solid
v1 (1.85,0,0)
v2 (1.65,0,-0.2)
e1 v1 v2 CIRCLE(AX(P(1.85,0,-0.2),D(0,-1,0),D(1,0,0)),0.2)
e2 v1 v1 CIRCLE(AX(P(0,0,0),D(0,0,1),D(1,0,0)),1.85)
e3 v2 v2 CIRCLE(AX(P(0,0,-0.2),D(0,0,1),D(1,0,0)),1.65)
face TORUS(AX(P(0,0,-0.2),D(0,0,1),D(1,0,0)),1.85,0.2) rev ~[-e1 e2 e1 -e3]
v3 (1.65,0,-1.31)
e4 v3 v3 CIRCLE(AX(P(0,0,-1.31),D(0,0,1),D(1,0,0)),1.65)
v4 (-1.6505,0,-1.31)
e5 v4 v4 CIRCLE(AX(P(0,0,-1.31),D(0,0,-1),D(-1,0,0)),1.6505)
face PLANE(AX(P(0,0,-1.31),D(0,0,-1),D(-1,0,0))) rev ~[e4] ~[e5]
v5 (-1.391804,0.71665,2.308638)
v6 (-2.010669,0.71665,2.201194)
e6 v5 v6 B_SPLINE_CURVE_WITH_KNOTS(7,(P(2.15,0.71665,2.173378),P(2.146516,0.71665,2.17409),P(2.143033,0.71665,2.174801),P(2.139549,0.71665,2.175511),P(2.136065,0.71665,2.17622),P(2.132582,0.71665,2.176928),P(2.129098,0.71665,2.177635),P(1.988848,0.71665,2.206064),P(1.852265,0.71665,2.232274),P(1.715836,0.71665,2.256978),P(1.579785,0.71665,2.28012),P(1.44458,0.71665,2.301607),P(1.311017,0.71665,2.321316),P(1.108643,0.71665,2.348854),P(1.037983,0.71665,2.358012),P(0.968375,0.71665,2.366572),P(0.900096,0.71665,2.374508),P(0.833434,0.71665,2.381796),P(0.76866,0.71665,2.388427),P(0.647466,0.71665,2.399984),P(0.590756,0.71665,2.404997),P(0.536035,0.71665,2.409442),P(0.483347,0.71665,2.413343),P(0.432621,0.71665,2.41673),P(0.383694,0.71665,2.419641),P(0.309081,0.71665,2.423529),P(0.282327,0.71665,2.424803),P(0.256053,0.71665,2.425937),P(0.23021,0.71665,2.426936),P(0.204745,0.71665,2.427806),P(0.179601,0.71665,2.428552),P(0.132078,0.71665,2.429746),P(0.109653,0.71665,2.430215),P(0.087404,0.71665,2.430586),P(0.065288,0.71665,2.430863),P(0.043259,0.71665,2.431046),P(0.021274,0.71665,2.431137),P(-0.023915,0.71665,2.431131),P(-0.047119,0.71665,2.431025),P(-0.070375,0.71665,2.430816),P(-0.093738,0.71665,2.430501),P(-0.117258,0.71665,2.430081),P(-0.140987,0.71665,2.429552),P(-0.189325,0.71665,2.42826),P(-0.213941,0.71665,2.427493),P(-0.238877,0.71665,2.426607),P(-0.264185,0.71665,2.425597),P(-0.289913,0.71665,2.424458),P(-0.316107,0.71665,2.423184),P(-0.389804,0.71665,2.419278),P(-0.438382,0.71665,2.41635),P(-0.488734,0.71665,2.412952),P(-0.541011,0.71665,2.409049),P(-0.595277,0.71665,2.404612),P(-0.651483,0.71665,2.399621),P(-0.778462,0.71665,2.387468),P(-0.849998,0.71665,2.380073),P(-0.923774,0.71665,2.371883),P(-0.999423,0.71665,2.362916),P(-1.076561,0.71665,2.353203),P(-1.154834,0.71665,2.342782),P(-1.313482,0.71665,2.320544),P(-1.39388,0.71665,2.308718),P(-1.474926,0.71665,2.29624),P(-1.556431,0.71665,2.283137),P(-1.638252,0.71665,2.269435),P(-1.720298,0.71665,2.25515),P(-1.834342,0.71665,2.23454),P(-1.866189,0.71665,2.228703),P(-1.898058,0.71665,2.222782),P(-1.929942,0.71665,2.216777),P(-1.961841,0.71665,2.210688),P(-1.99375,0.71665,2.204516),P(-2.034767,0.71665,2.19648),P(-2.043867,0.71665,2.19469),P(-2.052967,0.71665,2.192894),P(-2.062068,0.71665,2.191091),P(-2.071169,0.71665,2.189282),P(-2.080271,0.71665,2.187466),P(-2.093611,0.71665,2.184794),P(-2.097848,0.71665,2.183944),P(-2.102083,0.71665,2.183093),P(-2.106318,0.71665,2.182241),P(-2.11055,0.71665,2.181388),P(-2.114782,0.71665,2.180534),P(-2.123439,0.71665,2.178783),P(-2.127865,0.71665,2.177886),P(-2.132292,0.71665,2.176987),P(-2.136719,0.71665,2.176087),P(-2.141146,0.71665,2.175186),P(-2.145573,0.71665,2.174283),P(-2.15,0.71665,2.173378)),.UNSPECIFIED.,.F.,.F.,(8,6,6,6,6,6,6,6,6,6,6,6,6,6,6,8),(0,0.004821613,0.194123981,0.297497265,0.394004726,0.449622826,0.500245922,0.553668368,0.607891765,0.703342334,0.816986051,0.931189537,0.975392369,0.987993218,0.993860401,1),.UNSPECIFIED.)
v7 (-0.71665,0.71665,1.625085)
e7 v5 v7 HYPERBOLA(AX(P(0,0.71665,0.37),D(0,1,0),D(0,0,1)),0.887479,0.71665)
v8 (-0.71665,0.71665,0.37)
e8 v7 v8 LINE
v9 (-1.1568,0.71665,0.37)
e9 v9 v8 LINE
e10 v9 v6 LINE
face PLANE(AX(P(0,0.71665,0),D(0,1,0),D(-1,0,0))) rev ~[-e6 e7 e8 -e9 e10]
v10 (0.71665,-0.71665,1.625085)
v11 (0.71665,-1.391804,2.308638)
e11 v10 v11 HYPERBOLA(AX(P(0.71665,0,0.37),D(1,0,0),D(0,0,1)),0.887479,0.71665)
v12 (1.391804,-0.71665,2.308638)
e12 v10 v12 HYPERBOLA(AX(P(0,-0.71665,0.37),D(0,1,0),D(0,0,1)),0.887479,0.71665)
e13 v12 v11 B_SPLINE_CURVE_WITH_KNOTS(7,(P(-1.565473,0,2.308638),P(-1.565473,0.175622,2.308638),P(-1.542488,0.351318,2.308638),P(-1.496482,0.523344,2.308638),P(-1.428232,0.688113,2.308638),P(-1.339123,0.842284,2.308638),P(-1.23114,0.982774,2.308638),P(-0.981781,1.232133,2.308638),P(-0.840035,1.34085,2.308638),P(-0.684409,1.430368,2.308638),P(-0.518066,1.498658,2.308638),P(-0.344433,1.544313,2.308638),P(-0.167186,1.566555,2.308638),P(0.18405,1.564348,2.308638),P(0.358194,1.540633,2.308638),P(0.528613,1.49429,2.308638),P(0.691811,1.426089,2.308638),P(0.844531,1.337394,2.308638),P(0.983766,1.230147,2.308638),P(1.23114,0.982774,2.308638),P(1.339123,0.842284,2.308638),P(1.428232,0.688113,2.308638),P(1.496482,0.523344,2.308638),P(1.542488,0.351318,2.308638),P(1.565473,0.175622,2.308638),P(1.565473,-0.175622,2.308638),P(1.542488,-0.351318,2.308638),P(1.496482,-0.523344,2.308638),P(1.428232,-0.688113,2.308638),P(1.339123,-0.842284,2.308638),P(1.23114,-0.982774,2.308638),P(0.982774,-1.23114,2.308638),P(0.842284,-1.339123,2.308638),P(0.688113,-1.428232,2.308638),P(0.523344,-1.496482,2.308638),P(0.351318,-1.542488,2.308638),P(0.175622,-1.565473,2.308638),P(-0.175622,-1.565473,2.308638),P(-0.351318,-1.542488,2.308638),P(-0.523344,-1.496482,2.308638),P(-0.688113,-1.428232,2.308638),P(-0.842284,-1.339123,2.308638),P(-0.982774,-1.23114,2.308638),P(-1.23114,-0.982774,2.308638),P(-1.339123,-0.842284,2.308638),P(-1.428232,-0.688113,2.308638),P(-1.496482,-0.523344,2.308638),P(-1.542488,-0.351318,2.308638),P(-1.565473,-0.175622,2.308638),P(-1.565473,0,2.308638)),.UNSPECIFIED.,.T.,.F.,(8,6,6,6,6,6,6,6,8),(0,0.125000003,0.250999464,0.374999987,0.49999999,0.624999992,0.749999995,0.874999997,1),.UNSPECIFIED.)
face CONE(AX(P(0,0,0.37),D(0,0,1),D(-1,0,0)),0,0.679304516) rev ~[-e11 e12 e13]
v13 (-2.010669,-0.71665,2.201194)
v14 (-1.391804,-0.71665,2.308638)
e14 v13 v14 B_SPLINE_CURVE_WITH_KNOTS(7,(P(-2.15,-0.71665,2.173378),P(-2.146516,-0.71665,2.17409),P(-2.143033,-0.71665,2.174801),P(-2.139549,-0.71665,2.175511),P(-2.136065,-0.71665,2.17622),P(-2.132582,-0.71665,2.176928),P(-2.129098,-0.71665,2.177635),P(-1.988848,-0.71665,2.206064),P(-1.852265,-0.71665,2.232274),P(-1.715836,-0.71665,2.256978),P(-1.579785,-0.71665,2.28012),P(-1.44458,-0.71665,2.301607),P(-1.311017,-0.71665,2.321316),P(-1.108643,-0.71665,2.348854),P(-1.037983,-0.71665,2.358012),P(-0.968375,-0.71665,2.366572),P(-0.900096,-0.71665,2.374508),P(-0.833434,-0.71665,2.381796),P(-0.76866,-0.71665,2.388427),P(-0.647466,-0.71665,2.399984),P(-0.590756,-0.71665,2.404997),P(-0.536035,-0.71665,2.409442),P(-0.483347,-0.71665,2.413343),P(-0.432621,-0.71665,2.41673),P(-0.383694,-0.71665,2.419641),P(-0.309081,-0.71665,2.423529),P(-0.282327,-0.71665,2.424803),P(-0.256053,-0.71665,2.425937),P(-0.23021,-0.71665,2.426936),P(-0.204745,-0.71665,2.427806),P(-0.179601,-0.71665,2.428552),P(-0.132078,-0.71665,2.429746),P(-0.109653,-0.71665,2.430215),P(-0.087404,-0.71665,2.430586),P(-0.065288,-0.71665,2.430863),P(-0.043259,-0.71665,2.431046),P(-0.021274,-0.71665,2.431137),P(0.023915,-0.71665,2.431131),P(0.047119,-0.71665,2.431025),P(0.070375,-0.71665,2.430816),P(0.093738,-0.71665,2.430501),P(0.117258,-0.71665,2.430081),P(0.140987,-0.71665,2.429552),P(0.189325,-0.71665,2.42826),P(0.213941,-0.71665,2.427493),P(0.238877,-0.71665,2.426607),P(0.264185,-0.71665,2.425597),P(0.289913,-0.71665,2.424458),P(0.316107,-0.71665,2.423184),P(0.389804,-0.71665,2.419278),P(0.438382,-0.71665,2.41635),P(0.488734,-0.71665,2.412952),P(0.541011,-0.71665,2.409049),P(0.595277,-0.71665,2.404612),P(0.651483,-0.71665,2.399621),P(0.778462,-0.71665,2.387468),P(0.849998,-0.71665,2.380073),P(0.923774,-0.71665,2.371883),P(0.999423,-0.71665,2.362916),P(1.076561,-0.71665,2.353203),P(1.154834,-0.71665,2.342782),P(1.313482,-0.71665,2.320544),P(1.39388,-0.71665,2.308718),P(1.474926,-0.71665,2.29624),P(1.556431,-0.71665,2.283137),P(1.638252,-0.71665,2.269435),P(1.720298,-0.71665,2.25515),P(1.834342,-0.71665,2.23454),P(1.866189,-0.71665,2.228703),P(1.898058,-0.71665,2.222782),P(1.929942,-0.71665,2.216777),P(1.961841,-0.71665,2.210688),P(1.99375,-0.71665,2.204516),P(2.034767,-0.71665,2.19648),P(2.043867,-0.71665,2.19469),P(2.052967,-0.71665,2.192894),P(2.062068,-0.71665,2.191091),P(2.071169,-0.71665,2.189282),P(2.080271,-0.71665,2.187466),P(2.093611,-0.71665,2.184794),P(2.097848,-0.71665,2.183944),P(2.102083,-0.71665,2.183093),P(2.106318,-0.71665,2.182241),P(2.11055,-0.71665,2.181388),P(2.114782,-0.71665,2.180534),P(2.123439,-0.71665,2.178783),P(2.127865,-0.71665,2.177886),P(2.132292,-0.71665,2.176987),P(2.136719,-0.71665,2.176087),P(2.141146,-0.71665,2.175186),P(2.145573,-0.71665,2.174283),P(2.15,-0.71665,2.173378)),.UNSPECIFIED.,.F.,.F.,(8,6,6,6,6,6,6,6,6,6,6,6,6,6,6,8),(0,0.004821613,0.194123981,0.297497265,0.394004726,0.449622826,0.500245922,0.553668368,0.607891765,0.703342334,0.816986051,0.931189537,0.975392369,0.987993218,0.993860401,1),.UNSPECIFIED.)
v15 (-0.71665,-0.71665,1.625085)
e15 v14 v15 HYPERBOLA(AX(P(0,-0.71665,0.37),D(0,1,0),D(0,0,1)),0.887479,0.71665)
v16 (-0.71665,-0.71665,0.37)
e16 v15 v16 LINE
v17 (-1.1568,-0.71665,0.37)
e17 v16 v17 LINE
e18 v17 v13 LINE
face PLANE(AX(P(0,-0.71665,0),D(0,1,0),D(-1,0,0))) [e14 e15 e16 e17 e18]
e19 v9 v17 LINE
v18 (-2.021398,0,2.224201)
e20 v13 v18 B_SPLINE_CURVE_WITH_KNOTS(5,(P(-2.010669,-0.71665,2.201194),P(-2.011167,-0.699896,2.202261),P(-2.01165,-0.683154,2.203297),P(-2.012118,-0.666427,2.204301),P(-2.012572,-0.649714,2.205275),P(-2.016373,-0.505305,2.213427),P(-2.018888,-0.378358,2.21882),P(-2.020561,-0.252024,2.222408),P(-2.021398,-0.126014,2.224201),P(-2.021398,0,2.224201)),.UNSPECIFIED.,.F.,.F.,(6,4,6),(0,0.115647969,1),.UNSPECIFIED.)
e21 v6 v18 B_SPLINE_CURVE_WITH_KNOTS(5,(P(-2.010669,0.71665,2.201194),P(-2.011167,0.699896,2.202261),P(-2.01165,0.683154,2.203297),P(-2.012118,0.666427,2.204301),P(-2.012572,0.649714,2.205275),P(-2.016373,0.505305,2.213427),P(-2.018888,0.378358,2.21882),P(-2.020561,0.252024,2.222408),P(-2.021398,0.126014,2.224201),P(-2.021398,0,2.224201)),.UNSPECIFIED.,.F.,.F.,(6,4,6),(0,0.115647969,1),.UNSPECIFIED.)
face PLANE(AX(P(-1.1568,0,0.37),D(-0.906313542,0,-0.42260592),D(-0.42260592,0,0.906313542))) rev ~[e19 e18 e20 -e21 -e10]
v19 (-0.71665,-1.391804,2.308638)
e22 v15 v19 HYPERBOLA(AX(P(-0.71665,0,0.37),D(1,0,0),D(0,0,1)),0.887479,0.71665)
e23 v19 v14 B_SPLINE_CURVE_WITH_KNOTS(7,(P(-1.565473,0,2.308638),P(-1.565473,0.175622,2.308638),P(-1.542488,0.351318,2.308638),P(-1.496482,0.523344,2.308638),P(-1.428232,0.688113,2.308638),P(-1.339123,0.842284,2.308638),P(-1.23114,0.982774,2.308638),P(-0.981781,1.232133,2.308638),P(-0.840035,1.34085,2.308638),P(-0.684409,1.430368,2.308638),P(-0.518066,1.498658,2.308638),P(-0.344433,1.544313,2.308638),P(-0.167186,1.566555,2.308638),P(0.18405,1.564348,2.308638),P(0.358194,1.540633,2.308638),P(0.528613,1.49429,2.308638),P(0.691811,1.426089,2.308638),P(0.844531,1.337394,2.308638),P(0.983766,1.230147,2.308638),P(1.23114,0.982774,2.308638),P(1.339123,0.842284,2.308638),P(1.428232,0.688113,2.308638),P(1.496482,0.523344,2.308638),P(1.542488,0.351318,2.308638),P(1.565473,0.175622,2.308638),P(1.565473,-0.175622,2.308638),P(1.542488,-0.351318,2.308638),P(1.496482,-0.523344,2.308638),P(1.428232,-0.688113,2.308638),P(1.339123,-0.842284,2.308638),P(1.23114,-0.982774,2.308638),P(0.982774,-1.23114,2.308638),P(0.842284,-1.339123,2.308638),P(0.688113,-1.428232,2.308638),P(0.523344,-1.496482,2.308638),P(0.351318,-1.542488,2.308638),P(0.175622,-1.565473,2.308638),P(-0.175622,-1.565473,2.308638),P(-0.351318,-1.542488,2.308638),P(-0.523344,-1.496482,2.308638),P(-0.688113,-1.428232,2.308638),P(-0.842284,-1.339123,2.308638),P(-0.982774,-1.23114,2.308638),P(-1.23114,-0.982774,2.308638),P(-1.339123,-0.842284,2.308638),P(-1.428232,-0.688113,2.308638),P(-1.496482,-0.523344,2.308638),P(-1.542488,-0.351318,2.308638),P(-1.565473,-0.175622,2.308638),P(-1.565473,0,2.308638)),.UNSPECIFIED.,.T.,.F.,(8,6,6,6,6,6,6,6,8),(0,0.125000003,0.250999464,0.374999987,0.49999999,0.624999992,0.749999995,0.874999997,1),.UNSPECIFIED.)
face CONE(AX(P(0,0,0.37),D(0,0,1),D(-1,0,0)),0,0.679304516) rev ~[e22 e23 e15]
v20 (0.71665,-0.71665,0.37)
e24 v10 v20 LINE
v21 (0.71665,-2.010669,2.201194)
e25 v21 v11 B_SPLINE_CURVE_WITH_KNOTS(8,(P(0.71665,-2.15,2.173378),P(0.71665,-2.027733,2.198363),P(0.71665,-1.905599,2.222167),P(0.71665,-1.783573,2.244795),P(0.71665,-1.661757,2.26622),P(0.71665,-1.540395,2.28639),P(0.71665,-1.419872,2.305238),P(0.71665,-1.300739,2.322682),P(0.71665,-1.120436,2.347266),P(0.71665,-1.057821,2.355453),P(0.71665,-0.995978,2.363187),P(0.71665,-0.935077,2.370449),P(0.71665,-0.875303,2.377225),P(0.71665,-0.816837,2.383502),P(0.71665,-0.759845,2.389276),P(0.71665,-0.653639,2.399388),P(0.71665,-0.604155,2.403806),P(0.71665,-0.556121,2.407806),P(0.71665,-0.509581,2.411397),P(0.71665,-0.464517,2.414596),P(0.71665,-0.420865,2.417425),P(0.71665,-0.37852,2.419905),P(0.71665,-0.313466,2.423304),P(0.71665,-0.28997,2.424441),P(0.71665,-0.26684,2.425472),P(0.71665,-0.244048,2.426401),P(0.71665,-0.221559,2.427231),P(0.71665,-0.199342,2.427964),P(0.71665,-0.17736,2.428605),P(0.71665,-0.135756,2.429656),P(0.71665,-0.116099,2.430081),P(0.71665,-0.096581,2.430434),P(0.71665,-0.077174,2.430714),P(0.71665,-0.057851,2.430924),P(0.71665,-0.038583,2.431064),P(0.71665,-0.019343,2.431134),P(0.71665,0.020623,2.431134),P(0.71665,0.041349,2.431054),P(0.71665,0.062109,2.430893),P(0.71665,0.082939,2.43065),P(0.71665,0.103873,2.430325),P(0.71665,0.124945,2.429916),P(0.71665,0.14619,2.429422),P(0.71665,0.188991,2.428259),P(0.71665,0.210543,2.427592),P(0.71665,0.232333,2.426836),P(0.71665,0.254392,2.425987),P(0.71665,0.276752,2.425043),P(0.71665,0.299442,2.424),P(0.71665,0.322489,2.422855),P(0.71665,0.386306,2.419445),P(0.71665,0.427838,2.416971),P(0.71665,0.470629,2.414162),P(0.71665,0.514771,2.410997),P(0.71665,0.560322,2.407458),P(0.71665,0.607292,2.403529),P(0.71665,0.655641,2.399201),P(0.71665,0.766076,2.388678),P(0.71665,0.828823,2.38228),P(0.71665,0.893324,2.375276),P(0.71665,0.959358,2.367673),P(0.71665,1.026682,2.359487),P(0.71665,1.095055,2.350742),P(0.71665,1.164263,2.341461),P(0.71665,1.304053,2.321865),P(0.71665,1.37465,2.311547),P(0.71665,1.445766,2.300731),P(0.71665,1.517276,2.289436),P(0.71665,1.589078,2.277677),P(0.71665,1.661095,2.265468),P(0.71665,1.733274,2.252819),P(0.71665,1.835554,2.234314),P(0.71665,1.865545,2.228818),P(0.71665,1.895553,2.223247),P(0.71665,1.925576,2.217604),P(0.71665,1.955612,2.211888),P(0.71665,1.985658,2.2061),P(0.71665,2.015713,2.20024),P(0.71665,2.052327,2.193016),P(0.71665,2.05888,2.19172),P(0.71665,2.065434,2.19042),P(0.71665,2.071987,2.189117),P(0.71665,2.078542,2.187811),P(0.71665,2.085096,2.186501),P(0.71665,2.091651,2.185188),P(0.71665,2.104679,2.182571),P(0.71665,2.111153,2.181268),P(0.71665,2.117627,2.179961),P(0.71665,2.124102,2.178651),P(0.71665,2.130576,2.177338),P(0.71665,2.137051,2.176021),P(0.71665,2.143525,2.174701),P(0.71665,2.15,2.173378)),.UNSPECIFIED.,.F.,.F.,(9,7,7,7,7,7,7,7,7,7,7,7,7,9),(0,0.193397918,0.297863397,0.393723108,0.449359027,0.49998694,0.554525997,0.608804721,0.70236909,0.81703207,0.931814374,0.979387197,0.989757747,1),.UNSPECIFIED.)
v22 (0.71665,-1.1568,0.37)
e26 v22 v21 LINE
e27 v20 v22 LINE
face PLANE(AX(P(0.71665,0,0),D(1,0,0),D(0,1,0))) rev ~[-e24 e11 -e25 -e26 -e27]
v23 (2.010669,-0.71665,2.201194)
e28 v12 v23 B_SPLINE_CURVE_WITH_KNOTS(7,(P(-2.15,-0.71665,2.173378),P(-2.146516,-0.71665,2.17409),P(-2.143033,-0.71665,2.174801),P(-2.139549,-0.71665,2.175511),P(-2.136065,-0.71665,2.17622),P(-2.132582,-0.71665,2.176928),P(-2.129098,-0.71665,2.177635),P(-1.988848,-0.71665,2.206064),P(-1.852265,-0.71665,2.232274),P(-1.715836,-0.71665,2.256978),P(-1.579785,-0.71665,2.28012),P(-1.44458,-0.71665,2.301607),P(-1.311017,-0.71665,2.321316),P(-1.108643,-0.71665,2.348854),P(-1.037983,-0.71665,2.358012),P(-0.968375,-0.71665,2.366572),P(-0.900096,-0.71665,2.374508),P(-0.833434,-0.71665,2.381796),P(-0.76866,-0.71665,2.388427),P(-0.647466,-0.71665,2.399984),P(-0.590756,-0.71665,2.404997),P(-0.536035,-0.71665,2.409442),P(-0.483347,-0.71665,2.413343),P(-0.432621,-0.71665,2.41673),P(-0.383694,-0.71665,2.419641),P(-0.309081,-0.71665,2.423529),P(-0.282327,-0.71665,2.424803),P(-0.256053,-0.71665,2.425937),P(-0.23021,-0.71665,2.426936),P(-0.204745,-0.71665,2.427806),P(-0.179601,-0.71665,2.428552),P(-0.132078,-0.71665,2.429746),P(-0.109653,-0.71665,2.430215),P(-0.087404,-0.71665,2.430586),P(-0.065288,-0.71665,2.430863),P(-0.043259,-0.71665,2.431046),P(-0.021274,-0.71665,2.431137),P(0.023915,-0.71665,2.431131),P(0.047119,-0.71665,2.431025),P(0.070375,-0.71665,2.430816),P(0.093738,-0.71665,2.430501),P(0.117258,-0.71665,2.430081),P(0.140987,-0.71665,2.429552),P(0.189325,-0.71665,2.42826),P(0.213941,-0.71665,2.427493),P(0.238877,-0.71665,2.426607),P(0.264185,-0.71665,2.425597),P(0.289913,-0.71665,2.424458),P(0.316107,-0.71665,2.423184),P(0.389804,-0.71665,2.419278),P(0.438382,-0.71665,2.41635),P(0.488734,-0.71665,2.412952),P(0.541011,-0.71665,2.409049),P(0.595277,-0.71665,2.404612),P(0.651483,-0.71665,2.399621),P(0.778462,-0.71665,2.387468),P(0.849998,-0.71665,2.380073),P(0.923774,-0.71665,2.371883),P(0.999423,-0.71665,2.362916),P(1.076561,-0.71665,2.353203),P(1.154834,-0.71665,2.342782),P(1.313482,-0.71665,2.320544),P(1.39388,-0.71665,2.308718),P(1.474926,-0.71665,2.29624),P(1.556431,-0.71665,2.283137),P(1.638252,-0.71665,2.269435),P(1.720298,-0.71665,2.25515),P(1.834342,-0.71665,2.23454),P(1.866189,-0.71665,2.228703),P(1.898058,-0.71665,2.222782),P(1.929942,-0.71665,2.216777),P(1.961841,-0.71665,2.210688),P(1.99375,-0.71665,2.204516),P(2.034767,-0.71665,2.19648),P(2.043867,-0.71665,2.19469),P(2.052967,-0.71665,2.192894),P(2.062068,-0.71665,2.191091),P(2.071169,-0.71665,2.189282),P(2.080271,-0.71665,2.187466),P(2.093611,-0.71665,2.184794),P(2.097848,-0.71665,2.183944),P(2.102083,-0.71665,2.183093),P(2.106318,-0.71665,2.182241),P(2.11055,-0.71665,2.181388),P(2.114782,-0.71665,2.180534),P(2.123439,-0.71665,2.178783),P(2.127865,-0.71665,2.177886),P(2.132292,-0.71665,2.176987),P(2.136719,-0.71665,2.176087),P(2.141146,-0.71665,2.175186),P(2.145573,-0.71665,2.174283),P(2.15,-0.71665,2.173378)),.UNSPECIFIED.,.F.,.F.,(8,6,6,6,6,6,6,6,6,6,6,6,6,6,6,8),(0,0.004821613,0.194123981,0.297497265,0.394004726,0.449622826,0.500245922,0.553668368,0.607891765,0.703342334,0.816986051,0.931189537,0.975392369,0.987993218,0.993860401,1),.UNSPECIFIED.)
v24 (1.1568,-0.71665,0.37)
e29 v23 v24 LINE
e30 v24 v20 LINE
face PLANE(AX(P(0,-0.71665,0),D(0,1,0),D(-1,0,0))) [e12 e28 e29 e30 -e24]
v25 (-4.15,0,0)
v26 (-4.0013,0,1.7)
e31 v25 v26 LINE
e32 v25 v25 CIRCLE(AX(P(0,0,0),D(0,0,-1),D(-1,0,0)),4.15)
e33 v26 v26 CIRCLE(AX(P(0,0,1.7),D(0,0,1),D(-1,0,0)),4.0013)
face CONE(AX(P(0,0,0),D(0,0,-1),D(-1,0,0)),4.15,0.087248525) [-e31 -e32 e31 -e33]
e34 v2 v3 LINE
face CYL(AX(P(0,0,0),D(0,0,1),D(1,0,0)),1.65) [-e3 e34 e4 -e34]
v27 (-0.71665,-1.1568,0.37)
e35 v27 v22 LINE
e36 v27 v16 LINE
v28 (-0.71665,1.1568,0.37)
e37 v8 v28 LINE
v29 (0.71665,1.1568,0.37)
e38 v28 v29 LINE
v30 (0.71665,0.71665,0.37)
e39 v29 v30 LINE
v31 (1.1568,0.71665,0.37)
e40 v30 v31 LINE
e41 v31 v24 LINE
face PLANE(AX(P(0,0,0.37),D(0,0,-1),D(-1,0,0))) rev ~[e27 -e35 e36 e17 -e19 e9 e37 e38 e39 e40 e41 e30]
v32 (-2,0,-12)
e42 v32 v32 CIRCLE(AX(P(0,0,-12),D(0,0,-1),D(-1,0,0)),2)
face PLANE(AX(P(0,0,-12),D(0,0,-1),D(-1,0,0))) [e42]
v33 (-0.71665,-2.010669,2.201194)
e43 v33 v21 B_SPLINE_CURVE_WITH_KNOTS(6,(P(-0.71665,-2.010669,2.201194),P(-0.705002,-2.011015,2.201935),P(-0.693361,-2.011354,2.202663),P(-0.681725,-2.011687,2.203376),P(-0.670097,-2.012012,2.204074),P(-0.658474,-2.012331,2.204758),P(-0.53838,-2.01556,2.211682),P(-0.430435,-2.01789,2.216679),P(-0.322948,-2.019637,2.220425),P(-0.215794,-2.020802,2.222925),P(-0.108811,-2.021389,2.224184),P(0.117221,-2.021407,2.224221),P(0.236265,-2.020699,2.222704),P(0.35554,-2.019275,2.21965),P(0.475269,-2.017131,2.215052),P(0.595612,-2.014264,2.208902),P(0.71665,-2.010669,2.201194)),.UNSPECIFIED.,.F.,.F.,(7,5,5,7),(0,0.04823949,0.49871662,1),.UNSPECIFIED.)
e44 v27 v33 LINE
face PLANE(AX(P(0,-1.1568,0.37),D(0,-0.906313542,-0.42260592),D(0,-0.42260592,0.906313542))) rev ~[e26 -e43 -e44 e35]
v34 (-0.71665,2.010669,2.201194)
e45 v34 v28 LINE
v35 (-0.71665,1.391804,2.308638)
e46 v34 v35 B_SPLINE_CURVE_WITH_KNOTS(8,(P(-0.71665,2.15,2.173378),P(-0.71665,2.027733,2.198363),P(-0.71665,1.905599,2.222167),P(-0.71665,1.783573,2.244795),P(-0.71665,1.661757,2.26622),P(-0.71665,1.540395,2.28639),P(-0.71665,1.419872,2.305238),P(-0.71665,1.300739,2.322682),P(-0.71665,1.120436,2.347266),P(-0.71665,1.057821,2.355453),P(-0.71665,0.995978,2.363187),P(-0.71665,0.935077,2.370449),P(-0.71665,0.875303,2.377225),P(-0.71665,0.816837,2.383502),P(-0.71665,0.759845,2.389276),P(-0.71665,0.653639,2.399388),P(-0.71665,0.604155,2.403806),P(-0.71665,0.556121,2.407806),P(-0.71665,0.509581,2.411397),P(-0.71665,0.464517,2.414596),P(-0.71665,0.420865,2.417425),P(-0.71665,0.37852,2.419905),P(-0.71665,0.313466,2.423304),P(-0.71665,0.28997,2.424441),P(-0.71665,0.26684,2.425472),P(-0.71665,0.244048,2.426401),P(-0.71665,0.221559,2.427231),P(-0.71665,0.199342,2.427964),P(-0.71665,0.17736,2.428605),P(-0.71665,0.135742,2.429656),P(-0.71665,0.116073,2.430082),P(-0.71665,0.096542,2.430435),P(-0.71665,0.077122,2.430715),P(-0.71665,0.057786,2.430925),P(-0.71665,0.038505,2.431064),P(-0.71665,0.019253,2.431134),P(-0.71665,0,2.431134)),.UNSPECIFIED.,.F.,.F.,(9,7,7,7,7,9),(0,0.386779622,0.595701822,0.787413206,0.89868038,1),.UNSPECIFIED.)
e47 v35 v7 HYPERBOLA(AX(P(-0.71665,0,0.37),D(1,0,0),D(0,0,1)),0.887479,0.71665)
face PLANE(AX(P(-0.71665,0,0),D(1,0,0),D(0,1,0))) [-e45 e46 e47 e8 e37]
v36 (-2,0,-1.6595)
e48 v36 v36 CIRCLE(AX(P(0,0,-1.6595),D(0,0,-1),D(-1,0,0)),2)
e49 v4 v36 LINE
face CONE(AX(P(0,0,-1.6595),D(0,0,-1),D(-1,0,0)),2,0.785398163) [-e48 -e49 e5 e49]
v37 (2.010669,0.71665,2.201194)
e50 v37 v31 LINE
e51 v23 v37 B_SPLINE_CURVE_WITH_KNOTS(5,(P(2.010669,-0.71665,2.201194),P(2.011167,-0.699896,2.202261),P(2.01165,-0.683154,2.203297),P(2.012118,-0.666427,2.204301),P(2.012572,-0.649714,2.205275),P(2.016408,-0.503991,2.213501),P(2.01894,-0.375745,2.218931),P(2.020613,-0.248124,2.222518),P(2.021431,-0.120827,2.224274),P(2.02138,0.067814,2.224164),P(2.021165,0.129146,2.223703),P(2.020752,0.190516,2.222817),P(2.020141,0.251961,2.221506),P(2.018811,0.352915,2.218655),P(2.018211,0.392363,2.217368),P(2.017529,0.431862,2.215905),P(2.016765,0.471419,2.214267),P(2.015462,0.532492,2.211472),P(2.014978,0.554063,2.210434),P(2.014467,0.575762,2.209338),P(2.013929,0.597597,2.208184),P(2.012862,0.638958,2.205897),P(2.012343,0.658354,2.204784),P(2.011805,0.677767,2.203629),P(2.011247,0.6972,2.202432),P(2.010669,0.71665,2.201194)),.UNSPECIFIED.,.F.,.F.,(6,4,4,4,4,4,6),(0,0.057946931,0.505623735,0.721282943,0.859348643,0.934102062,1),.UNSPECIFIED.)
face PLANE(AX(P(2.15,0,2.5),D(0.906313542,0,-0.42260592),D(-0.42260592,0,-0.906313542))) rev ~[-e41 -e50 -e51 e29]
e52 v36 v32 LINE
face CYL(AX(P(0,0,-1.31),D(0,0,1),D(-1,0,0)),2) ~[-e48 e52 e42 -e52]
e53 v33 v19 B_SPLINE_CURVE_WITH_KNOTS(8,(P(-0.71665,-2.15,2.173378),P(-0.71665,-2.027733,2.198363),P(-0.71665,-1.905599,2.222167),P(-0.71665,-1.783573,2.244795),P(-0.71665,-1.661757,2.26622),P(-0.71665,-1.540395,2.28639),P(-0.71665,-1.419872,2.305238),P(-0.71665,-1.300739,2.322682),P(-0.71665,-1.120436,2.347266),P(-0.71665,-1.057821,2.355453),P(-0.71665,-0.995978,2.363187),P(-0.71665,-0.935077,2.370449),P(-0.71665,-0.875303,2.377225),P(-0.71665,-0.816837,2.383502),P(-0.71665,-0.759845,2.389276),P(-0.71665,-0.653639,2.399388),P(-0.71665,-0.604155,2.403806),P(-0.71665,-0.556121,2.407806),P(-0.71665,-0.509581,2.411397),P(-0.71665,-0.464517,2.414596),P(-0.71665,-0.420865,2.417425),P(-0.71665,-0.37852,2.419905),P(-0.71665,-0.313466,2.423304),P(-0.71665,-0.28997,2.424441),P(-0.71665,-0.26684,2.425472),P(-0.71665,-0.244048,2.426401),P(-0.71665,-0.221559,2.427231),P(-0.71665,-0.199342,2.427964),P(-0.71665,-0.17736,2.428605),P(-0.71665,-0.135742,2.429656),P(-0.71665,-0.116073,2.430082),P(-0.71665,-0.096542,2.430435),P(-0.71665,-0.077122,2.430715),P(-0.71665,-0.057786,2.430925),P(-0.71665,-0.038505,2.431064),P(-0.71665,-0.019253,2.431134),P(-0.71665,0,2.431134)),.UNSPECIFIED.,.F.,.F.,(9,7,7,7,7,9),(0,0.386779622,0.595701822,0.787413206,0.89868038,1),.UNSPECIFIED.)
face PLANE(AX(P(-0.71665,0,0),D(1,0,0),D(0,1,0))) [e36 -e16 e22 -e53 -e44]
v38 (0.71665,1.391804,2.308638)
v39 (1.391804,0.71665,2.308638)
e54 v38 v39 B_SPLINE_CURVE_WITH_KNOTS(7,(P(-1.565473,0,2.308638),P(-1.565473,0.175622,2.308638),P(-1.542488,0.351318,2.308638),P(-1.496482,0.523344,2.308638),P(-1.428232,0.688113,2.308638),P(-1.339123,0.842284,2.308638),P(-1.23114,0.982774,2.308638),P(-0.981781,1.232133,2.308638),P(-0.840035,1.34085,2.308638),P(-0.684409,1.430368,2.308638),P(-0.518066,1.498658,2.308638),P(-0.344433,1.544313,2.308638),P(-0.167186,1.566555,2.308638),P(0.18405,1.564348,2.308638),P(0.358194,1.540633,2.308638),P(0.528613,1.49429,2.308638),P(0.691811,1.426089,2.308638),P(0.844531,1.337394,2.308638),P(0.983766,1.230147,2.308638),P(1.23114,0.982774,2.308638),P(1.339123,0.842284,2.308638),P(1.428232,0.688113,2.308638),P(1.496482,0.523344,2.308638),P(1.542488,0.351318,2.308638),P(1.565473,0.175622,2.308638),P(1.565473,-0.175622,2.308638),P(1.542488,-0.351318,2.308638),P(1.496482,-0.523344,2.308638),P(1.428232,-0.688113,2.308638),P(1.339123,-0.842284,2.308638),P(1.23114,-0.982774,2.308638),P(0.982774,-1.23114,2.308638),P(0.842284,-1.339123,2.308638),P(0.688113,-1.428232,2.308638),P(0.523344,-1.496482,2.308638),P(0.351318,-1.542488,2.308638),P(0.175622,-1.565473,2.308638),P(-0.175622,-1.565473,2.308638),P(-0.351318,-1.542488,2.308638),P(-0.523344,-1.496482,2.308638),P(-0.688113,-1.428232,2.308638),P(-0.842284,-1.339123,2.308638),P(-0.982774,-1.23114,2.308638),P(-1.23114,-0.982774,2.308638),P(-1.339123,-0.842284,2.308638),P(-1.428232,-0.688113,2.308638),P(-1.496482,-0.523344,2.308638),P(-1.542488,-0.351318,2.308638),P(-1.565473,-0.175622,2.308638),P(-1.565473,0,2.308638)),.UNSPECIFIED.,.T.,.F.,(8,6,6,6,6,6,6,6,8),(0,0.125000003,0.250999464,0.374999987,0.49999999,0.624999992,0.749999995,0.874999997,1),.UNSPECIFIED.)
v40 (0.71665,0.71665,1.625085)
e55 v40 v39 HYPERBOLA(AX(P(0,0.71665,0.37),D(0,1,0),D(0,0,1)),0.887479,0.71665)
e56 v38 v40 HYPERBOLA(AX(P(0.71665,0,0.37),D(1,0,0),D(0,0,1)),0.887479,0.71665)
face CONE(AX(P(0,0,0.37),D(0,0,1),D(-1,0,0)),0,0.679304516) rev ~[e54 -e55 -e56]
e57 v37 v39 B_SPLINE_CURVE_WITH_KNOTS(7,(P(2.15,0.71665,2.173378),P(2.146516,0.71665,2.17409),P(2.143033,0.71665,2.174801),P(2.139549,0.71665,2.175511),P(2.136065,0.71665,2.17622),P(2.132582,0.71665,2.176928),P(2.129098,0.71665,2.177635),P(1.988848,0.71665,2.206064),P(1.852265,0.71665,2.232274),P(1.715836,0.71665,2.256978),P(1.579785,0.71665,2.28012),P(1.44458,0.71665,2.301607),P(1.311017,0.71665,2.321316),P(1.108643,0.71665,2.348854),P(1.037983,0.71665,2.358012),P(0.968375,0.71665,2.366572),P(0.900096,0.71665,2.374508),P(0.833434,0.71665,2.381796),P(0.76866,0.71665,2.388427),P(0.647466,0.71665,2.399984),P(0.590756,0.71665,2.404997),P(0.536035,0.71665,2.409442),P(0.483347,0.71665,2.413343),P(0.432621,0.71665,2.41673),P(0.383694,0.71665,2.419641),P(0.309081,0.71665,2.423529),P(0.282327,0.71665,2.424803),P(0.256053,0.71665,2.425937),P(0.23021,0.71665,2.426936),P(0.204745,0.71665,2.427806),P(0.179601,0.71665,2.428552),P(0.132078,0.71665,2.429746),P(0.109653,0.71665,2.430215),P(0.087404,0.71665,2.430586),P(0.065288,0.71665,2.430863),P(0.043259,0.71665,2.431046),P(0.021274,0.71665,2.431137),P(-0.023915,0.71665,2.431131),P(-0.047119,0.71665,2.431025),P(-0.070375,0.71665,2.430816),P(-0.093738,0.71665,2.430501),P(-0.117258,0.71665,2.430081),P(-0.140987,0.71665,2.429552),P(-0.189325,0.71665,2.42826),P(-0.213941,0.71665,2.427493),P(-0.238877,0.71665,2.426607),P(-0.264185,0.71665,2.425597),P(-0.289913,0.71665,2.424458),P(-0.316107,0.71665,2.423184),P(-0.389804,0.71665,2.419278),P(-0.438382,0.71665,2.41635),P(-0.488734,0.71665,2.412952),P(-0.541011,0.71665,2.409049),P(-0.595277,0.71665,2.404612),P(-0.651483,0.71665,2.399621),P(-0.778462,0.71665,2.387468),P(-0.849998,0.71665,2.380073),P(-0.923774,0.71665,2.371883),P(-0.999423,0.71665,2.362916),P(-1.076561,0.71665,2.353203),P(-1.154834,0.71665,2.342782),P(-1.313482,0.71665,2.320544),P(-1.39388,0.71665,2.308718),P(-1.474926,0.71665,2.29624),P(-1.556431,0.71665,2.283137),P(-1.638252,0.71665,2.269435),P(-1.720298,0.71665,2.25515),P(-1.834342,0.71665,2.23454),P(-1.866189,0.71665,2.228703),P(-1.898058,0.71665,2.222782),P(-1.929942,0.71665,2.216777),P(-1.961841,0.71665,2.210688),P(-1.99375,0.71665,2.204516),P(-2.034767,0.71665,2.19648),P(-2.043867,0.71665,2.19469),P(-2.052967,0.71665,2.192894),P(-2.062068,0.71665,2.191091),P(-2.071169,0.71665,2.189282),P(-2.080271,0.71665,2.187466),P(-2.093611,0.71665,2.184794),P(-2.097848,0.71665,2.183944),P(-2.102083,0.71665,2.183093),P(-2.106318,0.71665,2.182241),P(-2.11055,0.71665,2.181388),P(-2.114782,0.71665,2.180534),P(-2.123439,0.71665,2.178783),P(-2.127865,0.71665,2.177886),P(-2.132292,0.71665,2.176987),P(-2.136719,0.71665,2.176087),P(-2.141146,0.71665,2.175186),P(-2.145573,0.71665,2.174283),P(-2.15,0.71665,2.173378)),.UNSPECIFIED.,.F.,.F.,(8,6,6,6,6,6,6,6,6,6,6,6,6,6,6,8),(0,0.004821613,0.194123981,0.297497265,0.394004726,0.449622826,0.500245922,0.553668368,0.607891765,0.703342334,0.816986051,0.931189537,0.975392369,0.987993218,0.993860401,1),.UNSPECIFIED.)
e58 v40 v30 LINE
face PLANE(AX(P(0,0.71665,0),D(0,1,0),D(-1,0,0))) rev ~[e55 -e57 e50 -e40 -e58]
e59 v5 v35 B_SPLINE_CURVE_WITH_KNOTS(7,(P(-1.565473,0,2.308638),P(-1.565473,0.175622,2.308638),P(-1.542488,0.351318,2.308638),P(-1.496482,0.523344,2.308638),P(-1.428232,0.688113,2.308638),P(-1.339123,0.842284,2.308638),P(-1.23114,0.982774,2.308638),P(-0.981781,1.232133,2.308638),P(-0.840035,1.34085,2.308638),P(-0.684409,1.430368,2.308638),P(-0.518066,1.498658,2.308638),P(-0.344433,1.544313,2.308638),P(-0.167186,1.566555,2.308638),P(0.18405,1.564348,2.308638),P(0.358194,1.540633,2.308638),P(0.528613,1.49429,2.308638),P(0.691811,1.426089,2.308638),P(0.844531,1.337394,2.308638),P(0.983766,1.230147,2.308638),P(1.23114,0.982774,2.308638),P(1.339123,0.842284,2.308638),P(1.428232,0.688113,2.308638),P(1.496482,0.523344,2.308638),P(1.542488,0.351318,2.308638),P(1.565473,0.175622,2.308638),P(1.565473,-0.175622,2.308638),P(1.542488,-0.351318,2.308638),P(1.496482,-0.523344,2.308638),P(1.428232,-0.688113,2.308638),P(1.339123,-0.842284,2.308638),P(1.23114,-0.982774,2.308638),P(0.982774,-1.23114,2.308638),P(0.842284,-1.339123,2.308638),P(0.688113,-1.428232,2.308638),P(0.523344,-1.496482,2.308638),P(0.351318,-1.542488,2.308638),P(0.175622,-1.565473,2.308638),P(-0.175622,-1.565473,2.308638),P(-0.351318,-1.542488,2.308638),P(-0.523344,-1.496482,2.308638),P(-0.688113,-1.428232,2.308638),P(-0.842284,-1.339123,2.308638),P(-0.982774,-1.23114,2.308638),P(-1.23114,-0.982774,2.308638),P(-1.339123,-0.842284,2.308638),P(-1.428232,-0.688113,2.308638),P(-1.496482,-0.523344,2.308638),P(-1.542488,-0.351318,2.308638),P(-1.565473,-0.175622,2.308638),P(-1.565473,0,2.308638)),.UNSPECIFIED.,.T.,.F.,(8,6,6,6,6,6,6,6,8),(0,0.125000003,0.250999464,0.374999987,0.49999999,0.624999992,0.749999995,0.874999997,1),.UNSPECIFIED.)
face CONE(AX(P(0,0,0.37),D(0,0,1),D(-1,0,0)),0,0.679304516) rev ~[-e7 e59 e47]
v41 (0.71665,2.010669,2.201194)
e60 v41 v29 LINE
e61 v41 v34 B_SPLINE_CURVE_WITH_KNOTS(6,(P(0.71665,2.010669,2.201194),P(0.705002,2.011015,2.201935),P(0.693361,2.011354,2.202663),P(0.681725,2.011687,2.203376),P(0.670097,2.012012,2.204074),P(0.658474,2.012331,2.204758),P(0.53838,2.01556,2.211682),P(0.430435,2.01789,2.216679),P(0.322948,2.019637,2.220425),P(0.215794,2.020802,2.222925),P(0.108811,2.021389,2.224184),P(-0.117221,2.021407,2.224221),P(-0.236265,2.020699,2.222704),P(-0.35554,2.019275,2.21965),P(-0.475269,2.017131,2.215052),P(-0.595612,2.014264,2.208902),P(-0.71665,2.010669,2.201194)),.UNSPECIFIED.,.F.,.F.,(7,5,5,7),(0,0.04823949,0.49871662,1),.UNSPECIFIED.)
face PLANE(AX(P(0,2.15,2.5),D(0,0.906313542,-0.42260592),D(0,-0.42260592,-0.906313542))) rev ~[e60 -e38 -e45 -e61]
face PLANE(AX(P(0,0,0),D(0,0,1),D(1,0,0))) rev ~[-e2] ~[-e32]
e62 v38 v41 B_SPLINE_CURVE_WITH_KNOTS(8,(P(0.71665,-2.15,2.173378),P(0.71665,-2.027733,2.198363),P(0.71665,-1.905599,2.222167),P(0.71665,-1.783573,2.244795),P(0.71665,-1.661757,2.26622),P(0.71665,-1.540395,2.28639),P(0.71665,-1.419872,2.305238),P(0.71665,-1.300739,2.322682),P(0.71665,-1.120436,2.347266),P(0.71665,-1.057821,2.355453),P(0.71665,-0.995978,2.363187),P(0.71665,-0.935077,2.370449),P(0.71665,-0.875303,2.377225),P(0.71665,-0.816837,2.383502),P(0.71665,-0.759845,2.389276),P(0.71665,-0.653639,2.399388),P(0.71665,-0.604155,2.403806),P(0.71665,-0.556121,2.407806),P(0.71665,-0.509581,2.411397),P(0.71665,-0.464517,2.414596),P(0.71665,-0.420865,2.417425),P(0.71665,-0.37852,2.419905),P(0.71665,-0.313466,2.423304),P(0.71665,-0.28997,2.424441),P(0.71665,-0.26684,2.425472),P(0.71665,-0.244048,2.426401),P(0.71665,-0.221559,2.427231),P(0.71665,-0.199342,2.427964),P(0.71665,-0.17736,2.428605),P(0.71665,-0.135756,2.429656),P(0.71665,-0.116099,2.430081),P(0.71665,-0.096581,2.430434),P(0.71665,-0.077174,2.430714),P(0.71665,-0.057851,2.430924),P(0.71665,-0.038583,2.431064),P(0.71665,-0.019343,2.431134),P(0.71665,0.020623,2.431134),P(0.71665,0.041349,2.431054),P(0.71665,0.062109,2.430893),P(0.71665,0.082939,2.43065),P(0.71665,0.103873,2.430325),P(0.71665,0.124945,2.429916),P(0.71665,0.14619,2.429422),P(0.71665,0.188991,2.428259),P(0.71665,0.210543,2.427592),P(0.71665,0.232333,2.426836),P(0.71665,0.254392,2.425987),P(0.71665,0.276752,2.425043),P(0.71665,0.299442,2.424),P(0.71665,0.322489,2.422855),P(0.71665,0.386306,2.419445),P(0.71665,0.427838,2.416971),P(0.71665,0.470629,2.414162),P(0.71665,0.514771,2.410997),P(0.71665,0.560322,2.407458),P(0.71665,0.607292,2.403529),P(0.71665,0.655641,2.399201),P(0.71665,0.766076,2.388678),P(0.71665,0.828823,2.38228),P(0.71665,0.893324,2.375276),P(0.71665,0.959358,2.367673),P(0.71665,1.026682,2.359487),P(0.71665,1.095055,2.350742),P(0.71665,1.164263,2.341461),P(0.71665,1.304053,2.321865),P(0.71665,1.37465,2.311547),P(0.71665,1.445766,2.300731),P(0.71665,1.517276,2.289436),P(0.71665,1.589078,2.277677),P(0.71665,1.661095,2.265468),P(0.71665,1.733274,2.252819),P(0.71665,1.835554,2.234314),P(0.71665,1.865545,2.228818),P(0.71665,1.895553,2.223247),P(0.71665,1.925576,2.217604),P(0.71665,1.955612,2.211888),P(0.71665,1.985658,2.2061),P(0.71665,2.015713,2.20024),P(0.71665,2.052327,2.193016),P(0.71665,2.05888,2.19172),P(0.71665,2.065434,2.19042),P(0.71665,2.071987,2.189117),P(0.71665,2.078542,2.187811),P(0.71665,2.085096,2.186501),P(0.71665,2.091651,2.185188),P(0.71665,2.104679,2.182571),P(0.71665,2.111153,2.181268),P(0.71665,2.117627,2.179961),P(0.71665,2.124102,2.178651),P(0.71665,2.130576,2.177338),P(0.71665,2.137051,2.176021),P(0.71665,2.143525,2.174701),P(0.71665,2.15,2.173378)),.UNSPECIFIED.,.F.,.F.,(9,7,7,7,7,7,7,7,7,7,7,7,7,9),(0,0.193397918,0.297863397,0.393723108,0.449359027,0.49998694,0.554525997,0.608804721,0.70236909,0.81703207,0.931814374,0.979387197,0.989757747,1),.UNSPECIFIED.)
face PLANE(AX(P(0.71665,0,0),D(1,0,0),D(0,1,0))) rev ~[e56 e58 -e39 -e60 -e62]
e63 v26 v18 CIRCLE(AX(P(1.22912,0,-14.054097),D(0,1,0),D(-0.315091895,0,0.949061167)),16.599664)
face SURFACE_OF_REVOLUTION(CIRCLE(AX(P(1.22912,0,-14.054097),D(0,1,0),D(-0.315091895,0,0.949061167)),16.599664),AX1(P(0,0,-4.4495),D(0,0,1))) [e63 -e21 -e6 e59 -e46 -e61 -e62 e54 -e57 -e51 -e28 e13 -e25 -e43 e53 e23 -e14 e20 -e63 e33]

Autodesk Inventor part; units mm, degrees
ref_plane "YZ Plane" through (0, 0, 0) normal (1, 0, 0) x (0, 1, 0)
sketch "Sketch2" plane through (0, 0, 0) normal (0, 0, 1) x (1, 0, 0)
  circle A0 centre (0, 0) radius 1.65
  dimension "d3" = 3.3
extrude "Extrusion1" add sketch "Sketch2" against normal blind 1.31
sketch "Sketch3" plane through (0, 0, -1.31) normal (0, 0, -1) x (-1, 0, 0)
  circle A0 centre (0, 0) radius 2
  circle A1 centre (0, 0) radius 1.65 construction
  dimension "d28" = 360
  dimension "d9" = 4
extrude "Extrusion2" add sketch "Sketch3" along normal blind 10.69
chamfer "Chamfer1" distance 0.35 distance2 0.35 1 edges at (2, 0, -1.31) measured on face at (-1.848, -0.2912, -1.31)
sketch "Sketch4" plane through (0, 0, 0) normal (0, 0, 1) x (1, 0, 0)
  circle A0 centre (0, 0) radius 4.15
  circle A1 centre (0, 0) radius 1.65 construction
  dimension "d15" = 8.3
extrude "Extrusion3" add sketch "Sketch4" along normal blind 1.7
fillet "Fillet1" radius 0.2 1 edges at (-1.65, 0, 0)
sketch "Sketch5" plane through (0, 0, 0) normal (0, 1, 0) x (-1, 0, 0)
  line L0 (4.15, 1.7) -> (4.15, 0)
  line L1 (4.0013, 1.7) -> (4.15, 1.7)
  line L2 (4.15, 0) -> (4.0013, 1.7)
  line L3 (-4.15, 1.7) -> (4.15, 1.7) construction
  line L4 (-4.15, 0) -> (4.15, 0) construction
  line L5 (0, -0.34) -> (0, 2.04) projected
  line L6 (5.81, 0) -> (-5.81, 0) projected
  dimension "d20" = 5
  dimension "d56" = 4.15
  dimension "d57" = 1.7
revolve "Revolution1" cut sketch "Sketch5" angle 360 about axis through (0, 0, -10) along (0, 0, 1)
sketch "Sketch6" plane through (0, 0, 0) normal (0, 1, 0) x (-1, 0, 0)
  line L0 (0, 2.5) -> (0, 1.7)
  arc A0 (4.0013, 1.7) -> (0, 2.5) centre (-1.2292, -14.0544) ccw
  line L1 (0, 1.7) -> (4.0013, 1.7)
  line L2 (4.0013, 1.7) -> (-4.0013, 1.7) construction
  line L3 (0, -4.4495) -> (0, 0.4495)
  line L4 (0, -17.39) -> (0, 5.959) projected
  line L5 (5.6314, 0) -> (-5.6067, 0) projected
  dimension "d58" = 0.8
  dimension "d59" = 4.0013
  dimension "d60" = 0
  dimension "d62" = 16.6
revolve "Revolution2" add sketch "Sketch6" angle 360 about axis through (0, 0, -4.4495) along (0, 0, 1)
sketch "Sketch7" plane through (0, 0, 0) normal (0, 1, 0) x (-1, 0, 0)
  line L0 (2.15, 2.5) -> (-2.15, 2.5)
  line L1 (1.1568, 0.37) -> (2.15, 2.5)
  line L2 (-1.1568, 0.37) -> (1.1568, 0.37)
  line L3 (-2.15, 2.5) -> (-1.1568, 0.37)
  line L4 (0, -0.056) -> (0, 2.926) projected
  line L5 (3.01, 0) -> (-3.01, 0) projected
  dimension "d32" = 2.13
  dimension "d34" = 65
  dimension "d36" = 65
  dimension "d63" = 2.15
  dimension "d64" = 2.5
  dimension "d65" = 4.3
extrude "Extrusion4" cut sketch "Sketch7" against normal mid plane 1.4333
sketch "Sketch8" plane through (0, 0, 0) normal (1, 0, 0) x (0, 1, 0)
  line L0 (-1.1568, 0.37) -> (-2.15, 2.5)
  line L1 (1.1568, 0.37) -> (-1.1568, 0.37)
  line L2 (2.15, 2.5) -> (1.1568, 0.37)
  line L3 (-2.15, 2.5) -> (2.15, 2.5)
  line L4 (0, -0.056) -> (0, 2.926) projected
  line L5 (-3.01, 0) -> (3.01, 0) projected
  dimension "d40" = 65
  dimension "d42" = 65
  dimension "d44" = 2.13
  dimension "d66" = 4.3
  dimension "d67" = 2.5
  dimension "d69" = 2.15
extrude "Extrusion5" cut sketch "Sketch8" along normal mid plane 1.4333
sketch "Sketch9" plane through (0, 0, 0) normal (0, 1, 0) x (-1, 0, 0)
  line L0 (0, 2.5) -> (0, 0.37)
  line L1 (1.72, 2.5) -> (0, 2.5)
  line L2 (0, 0.37) -> (1.72, 2.5)
  line L3 (-4.15, 0) -> (4.15, 0) construction
  line L4 (0, -0.5) -> (0, 3) projected
  line L5 (5.81, 0) -> (-5.81, 0) projected
  dimension "d50" = 2.13
  dimension "d52" = 2.13
  dimension "d54" = 1.72
  dimension "d70" = 0
  dimension "d71" = 2.5
revolve "Revolution3" cut sketch "Sketch9" angle 360 about axis through (0, 0, -10) along (0, 0, 1)
thread "Thread1" size "M4x0.7" class "6g" standard "ISO Metric profile" full length
ref_plane "MSC_PF1" through (0, 0, 0) normal (1, 0, 0) x (0, 1, 0)
ref_plane "MSC_PT1" through (0, 0, 0) normal (0, 0, -1) x (-1, 0, 0)
equation "\"d12\" = -0.5 * msp_ds + 0.5 * NND"
equation "\"d13\" = 0.5 * NND - 0.5 * msp_ds"
equation "\"d18\" = r"
equation "\"d4\" = -b + NLG"
equation "\"d9\" = NND"
equation "\"d10\" = b"
equation "\"d15\" = Dk"
equation "\"d16\" = ParK"
equation "\"d32\" = q"
equation "\"d63\" = 0.5 * M"
equation "\"d64\" = ParK + ParF"
equation "\"d65\" = M"
equation "\"d37\" = 2 * msp_s"
equation "\"d44\" = q"
equation "\"d66\" = M"
equation "\"d67\" = ParK + ParF"
equation "\"d69\" = 0.5 * M"
equation "\"d47\" = 2 * msp_s"
equation "\"d3\" = msp_ds"
equation "\"d56\" = 0.5 * Dk"
equation "\"d57\" = ParK"
equation "\"d58\" = ParF"
equation "\"d59\" = 0.5 * Dk - msp_v"
equation "\"d62\" = 2 * Dk"
equation "\"d50\" = q"
equation "\"d52\" = q"
equation "\"d54\" = msp_rr"
equation "\"d71\" = ParK + ParF"
equation "\"PTC\" = 0.7"
equation "\"NLG\" = 12"
equation "\"Dk\" = 8.3"
equation "\"ParK\" = 1.7"
equation "\"NND\" = 4"
equation "\"M\" = 4.3"
equation "\"q\" = 2.13"
equation "\"r\" = 0.2"
equation "\"msp_ds\" = NND - PTC"
equation "\"b\" = 10.69"
equation "\"msp_x\" = 1.25 * PTC"
equation "\"msp_s\" = 0.166667 * M"
equation "\"msp_rr\" = 0.4 * M"
equation "\"ParF\" = 0.8"
equation "\"msp_v\" = 0.0874887 * ParK"
equation "\"THREADDIA\" = NND"
properties part number "JIS B 1111 - M4x12" material "Steel, Mild"
